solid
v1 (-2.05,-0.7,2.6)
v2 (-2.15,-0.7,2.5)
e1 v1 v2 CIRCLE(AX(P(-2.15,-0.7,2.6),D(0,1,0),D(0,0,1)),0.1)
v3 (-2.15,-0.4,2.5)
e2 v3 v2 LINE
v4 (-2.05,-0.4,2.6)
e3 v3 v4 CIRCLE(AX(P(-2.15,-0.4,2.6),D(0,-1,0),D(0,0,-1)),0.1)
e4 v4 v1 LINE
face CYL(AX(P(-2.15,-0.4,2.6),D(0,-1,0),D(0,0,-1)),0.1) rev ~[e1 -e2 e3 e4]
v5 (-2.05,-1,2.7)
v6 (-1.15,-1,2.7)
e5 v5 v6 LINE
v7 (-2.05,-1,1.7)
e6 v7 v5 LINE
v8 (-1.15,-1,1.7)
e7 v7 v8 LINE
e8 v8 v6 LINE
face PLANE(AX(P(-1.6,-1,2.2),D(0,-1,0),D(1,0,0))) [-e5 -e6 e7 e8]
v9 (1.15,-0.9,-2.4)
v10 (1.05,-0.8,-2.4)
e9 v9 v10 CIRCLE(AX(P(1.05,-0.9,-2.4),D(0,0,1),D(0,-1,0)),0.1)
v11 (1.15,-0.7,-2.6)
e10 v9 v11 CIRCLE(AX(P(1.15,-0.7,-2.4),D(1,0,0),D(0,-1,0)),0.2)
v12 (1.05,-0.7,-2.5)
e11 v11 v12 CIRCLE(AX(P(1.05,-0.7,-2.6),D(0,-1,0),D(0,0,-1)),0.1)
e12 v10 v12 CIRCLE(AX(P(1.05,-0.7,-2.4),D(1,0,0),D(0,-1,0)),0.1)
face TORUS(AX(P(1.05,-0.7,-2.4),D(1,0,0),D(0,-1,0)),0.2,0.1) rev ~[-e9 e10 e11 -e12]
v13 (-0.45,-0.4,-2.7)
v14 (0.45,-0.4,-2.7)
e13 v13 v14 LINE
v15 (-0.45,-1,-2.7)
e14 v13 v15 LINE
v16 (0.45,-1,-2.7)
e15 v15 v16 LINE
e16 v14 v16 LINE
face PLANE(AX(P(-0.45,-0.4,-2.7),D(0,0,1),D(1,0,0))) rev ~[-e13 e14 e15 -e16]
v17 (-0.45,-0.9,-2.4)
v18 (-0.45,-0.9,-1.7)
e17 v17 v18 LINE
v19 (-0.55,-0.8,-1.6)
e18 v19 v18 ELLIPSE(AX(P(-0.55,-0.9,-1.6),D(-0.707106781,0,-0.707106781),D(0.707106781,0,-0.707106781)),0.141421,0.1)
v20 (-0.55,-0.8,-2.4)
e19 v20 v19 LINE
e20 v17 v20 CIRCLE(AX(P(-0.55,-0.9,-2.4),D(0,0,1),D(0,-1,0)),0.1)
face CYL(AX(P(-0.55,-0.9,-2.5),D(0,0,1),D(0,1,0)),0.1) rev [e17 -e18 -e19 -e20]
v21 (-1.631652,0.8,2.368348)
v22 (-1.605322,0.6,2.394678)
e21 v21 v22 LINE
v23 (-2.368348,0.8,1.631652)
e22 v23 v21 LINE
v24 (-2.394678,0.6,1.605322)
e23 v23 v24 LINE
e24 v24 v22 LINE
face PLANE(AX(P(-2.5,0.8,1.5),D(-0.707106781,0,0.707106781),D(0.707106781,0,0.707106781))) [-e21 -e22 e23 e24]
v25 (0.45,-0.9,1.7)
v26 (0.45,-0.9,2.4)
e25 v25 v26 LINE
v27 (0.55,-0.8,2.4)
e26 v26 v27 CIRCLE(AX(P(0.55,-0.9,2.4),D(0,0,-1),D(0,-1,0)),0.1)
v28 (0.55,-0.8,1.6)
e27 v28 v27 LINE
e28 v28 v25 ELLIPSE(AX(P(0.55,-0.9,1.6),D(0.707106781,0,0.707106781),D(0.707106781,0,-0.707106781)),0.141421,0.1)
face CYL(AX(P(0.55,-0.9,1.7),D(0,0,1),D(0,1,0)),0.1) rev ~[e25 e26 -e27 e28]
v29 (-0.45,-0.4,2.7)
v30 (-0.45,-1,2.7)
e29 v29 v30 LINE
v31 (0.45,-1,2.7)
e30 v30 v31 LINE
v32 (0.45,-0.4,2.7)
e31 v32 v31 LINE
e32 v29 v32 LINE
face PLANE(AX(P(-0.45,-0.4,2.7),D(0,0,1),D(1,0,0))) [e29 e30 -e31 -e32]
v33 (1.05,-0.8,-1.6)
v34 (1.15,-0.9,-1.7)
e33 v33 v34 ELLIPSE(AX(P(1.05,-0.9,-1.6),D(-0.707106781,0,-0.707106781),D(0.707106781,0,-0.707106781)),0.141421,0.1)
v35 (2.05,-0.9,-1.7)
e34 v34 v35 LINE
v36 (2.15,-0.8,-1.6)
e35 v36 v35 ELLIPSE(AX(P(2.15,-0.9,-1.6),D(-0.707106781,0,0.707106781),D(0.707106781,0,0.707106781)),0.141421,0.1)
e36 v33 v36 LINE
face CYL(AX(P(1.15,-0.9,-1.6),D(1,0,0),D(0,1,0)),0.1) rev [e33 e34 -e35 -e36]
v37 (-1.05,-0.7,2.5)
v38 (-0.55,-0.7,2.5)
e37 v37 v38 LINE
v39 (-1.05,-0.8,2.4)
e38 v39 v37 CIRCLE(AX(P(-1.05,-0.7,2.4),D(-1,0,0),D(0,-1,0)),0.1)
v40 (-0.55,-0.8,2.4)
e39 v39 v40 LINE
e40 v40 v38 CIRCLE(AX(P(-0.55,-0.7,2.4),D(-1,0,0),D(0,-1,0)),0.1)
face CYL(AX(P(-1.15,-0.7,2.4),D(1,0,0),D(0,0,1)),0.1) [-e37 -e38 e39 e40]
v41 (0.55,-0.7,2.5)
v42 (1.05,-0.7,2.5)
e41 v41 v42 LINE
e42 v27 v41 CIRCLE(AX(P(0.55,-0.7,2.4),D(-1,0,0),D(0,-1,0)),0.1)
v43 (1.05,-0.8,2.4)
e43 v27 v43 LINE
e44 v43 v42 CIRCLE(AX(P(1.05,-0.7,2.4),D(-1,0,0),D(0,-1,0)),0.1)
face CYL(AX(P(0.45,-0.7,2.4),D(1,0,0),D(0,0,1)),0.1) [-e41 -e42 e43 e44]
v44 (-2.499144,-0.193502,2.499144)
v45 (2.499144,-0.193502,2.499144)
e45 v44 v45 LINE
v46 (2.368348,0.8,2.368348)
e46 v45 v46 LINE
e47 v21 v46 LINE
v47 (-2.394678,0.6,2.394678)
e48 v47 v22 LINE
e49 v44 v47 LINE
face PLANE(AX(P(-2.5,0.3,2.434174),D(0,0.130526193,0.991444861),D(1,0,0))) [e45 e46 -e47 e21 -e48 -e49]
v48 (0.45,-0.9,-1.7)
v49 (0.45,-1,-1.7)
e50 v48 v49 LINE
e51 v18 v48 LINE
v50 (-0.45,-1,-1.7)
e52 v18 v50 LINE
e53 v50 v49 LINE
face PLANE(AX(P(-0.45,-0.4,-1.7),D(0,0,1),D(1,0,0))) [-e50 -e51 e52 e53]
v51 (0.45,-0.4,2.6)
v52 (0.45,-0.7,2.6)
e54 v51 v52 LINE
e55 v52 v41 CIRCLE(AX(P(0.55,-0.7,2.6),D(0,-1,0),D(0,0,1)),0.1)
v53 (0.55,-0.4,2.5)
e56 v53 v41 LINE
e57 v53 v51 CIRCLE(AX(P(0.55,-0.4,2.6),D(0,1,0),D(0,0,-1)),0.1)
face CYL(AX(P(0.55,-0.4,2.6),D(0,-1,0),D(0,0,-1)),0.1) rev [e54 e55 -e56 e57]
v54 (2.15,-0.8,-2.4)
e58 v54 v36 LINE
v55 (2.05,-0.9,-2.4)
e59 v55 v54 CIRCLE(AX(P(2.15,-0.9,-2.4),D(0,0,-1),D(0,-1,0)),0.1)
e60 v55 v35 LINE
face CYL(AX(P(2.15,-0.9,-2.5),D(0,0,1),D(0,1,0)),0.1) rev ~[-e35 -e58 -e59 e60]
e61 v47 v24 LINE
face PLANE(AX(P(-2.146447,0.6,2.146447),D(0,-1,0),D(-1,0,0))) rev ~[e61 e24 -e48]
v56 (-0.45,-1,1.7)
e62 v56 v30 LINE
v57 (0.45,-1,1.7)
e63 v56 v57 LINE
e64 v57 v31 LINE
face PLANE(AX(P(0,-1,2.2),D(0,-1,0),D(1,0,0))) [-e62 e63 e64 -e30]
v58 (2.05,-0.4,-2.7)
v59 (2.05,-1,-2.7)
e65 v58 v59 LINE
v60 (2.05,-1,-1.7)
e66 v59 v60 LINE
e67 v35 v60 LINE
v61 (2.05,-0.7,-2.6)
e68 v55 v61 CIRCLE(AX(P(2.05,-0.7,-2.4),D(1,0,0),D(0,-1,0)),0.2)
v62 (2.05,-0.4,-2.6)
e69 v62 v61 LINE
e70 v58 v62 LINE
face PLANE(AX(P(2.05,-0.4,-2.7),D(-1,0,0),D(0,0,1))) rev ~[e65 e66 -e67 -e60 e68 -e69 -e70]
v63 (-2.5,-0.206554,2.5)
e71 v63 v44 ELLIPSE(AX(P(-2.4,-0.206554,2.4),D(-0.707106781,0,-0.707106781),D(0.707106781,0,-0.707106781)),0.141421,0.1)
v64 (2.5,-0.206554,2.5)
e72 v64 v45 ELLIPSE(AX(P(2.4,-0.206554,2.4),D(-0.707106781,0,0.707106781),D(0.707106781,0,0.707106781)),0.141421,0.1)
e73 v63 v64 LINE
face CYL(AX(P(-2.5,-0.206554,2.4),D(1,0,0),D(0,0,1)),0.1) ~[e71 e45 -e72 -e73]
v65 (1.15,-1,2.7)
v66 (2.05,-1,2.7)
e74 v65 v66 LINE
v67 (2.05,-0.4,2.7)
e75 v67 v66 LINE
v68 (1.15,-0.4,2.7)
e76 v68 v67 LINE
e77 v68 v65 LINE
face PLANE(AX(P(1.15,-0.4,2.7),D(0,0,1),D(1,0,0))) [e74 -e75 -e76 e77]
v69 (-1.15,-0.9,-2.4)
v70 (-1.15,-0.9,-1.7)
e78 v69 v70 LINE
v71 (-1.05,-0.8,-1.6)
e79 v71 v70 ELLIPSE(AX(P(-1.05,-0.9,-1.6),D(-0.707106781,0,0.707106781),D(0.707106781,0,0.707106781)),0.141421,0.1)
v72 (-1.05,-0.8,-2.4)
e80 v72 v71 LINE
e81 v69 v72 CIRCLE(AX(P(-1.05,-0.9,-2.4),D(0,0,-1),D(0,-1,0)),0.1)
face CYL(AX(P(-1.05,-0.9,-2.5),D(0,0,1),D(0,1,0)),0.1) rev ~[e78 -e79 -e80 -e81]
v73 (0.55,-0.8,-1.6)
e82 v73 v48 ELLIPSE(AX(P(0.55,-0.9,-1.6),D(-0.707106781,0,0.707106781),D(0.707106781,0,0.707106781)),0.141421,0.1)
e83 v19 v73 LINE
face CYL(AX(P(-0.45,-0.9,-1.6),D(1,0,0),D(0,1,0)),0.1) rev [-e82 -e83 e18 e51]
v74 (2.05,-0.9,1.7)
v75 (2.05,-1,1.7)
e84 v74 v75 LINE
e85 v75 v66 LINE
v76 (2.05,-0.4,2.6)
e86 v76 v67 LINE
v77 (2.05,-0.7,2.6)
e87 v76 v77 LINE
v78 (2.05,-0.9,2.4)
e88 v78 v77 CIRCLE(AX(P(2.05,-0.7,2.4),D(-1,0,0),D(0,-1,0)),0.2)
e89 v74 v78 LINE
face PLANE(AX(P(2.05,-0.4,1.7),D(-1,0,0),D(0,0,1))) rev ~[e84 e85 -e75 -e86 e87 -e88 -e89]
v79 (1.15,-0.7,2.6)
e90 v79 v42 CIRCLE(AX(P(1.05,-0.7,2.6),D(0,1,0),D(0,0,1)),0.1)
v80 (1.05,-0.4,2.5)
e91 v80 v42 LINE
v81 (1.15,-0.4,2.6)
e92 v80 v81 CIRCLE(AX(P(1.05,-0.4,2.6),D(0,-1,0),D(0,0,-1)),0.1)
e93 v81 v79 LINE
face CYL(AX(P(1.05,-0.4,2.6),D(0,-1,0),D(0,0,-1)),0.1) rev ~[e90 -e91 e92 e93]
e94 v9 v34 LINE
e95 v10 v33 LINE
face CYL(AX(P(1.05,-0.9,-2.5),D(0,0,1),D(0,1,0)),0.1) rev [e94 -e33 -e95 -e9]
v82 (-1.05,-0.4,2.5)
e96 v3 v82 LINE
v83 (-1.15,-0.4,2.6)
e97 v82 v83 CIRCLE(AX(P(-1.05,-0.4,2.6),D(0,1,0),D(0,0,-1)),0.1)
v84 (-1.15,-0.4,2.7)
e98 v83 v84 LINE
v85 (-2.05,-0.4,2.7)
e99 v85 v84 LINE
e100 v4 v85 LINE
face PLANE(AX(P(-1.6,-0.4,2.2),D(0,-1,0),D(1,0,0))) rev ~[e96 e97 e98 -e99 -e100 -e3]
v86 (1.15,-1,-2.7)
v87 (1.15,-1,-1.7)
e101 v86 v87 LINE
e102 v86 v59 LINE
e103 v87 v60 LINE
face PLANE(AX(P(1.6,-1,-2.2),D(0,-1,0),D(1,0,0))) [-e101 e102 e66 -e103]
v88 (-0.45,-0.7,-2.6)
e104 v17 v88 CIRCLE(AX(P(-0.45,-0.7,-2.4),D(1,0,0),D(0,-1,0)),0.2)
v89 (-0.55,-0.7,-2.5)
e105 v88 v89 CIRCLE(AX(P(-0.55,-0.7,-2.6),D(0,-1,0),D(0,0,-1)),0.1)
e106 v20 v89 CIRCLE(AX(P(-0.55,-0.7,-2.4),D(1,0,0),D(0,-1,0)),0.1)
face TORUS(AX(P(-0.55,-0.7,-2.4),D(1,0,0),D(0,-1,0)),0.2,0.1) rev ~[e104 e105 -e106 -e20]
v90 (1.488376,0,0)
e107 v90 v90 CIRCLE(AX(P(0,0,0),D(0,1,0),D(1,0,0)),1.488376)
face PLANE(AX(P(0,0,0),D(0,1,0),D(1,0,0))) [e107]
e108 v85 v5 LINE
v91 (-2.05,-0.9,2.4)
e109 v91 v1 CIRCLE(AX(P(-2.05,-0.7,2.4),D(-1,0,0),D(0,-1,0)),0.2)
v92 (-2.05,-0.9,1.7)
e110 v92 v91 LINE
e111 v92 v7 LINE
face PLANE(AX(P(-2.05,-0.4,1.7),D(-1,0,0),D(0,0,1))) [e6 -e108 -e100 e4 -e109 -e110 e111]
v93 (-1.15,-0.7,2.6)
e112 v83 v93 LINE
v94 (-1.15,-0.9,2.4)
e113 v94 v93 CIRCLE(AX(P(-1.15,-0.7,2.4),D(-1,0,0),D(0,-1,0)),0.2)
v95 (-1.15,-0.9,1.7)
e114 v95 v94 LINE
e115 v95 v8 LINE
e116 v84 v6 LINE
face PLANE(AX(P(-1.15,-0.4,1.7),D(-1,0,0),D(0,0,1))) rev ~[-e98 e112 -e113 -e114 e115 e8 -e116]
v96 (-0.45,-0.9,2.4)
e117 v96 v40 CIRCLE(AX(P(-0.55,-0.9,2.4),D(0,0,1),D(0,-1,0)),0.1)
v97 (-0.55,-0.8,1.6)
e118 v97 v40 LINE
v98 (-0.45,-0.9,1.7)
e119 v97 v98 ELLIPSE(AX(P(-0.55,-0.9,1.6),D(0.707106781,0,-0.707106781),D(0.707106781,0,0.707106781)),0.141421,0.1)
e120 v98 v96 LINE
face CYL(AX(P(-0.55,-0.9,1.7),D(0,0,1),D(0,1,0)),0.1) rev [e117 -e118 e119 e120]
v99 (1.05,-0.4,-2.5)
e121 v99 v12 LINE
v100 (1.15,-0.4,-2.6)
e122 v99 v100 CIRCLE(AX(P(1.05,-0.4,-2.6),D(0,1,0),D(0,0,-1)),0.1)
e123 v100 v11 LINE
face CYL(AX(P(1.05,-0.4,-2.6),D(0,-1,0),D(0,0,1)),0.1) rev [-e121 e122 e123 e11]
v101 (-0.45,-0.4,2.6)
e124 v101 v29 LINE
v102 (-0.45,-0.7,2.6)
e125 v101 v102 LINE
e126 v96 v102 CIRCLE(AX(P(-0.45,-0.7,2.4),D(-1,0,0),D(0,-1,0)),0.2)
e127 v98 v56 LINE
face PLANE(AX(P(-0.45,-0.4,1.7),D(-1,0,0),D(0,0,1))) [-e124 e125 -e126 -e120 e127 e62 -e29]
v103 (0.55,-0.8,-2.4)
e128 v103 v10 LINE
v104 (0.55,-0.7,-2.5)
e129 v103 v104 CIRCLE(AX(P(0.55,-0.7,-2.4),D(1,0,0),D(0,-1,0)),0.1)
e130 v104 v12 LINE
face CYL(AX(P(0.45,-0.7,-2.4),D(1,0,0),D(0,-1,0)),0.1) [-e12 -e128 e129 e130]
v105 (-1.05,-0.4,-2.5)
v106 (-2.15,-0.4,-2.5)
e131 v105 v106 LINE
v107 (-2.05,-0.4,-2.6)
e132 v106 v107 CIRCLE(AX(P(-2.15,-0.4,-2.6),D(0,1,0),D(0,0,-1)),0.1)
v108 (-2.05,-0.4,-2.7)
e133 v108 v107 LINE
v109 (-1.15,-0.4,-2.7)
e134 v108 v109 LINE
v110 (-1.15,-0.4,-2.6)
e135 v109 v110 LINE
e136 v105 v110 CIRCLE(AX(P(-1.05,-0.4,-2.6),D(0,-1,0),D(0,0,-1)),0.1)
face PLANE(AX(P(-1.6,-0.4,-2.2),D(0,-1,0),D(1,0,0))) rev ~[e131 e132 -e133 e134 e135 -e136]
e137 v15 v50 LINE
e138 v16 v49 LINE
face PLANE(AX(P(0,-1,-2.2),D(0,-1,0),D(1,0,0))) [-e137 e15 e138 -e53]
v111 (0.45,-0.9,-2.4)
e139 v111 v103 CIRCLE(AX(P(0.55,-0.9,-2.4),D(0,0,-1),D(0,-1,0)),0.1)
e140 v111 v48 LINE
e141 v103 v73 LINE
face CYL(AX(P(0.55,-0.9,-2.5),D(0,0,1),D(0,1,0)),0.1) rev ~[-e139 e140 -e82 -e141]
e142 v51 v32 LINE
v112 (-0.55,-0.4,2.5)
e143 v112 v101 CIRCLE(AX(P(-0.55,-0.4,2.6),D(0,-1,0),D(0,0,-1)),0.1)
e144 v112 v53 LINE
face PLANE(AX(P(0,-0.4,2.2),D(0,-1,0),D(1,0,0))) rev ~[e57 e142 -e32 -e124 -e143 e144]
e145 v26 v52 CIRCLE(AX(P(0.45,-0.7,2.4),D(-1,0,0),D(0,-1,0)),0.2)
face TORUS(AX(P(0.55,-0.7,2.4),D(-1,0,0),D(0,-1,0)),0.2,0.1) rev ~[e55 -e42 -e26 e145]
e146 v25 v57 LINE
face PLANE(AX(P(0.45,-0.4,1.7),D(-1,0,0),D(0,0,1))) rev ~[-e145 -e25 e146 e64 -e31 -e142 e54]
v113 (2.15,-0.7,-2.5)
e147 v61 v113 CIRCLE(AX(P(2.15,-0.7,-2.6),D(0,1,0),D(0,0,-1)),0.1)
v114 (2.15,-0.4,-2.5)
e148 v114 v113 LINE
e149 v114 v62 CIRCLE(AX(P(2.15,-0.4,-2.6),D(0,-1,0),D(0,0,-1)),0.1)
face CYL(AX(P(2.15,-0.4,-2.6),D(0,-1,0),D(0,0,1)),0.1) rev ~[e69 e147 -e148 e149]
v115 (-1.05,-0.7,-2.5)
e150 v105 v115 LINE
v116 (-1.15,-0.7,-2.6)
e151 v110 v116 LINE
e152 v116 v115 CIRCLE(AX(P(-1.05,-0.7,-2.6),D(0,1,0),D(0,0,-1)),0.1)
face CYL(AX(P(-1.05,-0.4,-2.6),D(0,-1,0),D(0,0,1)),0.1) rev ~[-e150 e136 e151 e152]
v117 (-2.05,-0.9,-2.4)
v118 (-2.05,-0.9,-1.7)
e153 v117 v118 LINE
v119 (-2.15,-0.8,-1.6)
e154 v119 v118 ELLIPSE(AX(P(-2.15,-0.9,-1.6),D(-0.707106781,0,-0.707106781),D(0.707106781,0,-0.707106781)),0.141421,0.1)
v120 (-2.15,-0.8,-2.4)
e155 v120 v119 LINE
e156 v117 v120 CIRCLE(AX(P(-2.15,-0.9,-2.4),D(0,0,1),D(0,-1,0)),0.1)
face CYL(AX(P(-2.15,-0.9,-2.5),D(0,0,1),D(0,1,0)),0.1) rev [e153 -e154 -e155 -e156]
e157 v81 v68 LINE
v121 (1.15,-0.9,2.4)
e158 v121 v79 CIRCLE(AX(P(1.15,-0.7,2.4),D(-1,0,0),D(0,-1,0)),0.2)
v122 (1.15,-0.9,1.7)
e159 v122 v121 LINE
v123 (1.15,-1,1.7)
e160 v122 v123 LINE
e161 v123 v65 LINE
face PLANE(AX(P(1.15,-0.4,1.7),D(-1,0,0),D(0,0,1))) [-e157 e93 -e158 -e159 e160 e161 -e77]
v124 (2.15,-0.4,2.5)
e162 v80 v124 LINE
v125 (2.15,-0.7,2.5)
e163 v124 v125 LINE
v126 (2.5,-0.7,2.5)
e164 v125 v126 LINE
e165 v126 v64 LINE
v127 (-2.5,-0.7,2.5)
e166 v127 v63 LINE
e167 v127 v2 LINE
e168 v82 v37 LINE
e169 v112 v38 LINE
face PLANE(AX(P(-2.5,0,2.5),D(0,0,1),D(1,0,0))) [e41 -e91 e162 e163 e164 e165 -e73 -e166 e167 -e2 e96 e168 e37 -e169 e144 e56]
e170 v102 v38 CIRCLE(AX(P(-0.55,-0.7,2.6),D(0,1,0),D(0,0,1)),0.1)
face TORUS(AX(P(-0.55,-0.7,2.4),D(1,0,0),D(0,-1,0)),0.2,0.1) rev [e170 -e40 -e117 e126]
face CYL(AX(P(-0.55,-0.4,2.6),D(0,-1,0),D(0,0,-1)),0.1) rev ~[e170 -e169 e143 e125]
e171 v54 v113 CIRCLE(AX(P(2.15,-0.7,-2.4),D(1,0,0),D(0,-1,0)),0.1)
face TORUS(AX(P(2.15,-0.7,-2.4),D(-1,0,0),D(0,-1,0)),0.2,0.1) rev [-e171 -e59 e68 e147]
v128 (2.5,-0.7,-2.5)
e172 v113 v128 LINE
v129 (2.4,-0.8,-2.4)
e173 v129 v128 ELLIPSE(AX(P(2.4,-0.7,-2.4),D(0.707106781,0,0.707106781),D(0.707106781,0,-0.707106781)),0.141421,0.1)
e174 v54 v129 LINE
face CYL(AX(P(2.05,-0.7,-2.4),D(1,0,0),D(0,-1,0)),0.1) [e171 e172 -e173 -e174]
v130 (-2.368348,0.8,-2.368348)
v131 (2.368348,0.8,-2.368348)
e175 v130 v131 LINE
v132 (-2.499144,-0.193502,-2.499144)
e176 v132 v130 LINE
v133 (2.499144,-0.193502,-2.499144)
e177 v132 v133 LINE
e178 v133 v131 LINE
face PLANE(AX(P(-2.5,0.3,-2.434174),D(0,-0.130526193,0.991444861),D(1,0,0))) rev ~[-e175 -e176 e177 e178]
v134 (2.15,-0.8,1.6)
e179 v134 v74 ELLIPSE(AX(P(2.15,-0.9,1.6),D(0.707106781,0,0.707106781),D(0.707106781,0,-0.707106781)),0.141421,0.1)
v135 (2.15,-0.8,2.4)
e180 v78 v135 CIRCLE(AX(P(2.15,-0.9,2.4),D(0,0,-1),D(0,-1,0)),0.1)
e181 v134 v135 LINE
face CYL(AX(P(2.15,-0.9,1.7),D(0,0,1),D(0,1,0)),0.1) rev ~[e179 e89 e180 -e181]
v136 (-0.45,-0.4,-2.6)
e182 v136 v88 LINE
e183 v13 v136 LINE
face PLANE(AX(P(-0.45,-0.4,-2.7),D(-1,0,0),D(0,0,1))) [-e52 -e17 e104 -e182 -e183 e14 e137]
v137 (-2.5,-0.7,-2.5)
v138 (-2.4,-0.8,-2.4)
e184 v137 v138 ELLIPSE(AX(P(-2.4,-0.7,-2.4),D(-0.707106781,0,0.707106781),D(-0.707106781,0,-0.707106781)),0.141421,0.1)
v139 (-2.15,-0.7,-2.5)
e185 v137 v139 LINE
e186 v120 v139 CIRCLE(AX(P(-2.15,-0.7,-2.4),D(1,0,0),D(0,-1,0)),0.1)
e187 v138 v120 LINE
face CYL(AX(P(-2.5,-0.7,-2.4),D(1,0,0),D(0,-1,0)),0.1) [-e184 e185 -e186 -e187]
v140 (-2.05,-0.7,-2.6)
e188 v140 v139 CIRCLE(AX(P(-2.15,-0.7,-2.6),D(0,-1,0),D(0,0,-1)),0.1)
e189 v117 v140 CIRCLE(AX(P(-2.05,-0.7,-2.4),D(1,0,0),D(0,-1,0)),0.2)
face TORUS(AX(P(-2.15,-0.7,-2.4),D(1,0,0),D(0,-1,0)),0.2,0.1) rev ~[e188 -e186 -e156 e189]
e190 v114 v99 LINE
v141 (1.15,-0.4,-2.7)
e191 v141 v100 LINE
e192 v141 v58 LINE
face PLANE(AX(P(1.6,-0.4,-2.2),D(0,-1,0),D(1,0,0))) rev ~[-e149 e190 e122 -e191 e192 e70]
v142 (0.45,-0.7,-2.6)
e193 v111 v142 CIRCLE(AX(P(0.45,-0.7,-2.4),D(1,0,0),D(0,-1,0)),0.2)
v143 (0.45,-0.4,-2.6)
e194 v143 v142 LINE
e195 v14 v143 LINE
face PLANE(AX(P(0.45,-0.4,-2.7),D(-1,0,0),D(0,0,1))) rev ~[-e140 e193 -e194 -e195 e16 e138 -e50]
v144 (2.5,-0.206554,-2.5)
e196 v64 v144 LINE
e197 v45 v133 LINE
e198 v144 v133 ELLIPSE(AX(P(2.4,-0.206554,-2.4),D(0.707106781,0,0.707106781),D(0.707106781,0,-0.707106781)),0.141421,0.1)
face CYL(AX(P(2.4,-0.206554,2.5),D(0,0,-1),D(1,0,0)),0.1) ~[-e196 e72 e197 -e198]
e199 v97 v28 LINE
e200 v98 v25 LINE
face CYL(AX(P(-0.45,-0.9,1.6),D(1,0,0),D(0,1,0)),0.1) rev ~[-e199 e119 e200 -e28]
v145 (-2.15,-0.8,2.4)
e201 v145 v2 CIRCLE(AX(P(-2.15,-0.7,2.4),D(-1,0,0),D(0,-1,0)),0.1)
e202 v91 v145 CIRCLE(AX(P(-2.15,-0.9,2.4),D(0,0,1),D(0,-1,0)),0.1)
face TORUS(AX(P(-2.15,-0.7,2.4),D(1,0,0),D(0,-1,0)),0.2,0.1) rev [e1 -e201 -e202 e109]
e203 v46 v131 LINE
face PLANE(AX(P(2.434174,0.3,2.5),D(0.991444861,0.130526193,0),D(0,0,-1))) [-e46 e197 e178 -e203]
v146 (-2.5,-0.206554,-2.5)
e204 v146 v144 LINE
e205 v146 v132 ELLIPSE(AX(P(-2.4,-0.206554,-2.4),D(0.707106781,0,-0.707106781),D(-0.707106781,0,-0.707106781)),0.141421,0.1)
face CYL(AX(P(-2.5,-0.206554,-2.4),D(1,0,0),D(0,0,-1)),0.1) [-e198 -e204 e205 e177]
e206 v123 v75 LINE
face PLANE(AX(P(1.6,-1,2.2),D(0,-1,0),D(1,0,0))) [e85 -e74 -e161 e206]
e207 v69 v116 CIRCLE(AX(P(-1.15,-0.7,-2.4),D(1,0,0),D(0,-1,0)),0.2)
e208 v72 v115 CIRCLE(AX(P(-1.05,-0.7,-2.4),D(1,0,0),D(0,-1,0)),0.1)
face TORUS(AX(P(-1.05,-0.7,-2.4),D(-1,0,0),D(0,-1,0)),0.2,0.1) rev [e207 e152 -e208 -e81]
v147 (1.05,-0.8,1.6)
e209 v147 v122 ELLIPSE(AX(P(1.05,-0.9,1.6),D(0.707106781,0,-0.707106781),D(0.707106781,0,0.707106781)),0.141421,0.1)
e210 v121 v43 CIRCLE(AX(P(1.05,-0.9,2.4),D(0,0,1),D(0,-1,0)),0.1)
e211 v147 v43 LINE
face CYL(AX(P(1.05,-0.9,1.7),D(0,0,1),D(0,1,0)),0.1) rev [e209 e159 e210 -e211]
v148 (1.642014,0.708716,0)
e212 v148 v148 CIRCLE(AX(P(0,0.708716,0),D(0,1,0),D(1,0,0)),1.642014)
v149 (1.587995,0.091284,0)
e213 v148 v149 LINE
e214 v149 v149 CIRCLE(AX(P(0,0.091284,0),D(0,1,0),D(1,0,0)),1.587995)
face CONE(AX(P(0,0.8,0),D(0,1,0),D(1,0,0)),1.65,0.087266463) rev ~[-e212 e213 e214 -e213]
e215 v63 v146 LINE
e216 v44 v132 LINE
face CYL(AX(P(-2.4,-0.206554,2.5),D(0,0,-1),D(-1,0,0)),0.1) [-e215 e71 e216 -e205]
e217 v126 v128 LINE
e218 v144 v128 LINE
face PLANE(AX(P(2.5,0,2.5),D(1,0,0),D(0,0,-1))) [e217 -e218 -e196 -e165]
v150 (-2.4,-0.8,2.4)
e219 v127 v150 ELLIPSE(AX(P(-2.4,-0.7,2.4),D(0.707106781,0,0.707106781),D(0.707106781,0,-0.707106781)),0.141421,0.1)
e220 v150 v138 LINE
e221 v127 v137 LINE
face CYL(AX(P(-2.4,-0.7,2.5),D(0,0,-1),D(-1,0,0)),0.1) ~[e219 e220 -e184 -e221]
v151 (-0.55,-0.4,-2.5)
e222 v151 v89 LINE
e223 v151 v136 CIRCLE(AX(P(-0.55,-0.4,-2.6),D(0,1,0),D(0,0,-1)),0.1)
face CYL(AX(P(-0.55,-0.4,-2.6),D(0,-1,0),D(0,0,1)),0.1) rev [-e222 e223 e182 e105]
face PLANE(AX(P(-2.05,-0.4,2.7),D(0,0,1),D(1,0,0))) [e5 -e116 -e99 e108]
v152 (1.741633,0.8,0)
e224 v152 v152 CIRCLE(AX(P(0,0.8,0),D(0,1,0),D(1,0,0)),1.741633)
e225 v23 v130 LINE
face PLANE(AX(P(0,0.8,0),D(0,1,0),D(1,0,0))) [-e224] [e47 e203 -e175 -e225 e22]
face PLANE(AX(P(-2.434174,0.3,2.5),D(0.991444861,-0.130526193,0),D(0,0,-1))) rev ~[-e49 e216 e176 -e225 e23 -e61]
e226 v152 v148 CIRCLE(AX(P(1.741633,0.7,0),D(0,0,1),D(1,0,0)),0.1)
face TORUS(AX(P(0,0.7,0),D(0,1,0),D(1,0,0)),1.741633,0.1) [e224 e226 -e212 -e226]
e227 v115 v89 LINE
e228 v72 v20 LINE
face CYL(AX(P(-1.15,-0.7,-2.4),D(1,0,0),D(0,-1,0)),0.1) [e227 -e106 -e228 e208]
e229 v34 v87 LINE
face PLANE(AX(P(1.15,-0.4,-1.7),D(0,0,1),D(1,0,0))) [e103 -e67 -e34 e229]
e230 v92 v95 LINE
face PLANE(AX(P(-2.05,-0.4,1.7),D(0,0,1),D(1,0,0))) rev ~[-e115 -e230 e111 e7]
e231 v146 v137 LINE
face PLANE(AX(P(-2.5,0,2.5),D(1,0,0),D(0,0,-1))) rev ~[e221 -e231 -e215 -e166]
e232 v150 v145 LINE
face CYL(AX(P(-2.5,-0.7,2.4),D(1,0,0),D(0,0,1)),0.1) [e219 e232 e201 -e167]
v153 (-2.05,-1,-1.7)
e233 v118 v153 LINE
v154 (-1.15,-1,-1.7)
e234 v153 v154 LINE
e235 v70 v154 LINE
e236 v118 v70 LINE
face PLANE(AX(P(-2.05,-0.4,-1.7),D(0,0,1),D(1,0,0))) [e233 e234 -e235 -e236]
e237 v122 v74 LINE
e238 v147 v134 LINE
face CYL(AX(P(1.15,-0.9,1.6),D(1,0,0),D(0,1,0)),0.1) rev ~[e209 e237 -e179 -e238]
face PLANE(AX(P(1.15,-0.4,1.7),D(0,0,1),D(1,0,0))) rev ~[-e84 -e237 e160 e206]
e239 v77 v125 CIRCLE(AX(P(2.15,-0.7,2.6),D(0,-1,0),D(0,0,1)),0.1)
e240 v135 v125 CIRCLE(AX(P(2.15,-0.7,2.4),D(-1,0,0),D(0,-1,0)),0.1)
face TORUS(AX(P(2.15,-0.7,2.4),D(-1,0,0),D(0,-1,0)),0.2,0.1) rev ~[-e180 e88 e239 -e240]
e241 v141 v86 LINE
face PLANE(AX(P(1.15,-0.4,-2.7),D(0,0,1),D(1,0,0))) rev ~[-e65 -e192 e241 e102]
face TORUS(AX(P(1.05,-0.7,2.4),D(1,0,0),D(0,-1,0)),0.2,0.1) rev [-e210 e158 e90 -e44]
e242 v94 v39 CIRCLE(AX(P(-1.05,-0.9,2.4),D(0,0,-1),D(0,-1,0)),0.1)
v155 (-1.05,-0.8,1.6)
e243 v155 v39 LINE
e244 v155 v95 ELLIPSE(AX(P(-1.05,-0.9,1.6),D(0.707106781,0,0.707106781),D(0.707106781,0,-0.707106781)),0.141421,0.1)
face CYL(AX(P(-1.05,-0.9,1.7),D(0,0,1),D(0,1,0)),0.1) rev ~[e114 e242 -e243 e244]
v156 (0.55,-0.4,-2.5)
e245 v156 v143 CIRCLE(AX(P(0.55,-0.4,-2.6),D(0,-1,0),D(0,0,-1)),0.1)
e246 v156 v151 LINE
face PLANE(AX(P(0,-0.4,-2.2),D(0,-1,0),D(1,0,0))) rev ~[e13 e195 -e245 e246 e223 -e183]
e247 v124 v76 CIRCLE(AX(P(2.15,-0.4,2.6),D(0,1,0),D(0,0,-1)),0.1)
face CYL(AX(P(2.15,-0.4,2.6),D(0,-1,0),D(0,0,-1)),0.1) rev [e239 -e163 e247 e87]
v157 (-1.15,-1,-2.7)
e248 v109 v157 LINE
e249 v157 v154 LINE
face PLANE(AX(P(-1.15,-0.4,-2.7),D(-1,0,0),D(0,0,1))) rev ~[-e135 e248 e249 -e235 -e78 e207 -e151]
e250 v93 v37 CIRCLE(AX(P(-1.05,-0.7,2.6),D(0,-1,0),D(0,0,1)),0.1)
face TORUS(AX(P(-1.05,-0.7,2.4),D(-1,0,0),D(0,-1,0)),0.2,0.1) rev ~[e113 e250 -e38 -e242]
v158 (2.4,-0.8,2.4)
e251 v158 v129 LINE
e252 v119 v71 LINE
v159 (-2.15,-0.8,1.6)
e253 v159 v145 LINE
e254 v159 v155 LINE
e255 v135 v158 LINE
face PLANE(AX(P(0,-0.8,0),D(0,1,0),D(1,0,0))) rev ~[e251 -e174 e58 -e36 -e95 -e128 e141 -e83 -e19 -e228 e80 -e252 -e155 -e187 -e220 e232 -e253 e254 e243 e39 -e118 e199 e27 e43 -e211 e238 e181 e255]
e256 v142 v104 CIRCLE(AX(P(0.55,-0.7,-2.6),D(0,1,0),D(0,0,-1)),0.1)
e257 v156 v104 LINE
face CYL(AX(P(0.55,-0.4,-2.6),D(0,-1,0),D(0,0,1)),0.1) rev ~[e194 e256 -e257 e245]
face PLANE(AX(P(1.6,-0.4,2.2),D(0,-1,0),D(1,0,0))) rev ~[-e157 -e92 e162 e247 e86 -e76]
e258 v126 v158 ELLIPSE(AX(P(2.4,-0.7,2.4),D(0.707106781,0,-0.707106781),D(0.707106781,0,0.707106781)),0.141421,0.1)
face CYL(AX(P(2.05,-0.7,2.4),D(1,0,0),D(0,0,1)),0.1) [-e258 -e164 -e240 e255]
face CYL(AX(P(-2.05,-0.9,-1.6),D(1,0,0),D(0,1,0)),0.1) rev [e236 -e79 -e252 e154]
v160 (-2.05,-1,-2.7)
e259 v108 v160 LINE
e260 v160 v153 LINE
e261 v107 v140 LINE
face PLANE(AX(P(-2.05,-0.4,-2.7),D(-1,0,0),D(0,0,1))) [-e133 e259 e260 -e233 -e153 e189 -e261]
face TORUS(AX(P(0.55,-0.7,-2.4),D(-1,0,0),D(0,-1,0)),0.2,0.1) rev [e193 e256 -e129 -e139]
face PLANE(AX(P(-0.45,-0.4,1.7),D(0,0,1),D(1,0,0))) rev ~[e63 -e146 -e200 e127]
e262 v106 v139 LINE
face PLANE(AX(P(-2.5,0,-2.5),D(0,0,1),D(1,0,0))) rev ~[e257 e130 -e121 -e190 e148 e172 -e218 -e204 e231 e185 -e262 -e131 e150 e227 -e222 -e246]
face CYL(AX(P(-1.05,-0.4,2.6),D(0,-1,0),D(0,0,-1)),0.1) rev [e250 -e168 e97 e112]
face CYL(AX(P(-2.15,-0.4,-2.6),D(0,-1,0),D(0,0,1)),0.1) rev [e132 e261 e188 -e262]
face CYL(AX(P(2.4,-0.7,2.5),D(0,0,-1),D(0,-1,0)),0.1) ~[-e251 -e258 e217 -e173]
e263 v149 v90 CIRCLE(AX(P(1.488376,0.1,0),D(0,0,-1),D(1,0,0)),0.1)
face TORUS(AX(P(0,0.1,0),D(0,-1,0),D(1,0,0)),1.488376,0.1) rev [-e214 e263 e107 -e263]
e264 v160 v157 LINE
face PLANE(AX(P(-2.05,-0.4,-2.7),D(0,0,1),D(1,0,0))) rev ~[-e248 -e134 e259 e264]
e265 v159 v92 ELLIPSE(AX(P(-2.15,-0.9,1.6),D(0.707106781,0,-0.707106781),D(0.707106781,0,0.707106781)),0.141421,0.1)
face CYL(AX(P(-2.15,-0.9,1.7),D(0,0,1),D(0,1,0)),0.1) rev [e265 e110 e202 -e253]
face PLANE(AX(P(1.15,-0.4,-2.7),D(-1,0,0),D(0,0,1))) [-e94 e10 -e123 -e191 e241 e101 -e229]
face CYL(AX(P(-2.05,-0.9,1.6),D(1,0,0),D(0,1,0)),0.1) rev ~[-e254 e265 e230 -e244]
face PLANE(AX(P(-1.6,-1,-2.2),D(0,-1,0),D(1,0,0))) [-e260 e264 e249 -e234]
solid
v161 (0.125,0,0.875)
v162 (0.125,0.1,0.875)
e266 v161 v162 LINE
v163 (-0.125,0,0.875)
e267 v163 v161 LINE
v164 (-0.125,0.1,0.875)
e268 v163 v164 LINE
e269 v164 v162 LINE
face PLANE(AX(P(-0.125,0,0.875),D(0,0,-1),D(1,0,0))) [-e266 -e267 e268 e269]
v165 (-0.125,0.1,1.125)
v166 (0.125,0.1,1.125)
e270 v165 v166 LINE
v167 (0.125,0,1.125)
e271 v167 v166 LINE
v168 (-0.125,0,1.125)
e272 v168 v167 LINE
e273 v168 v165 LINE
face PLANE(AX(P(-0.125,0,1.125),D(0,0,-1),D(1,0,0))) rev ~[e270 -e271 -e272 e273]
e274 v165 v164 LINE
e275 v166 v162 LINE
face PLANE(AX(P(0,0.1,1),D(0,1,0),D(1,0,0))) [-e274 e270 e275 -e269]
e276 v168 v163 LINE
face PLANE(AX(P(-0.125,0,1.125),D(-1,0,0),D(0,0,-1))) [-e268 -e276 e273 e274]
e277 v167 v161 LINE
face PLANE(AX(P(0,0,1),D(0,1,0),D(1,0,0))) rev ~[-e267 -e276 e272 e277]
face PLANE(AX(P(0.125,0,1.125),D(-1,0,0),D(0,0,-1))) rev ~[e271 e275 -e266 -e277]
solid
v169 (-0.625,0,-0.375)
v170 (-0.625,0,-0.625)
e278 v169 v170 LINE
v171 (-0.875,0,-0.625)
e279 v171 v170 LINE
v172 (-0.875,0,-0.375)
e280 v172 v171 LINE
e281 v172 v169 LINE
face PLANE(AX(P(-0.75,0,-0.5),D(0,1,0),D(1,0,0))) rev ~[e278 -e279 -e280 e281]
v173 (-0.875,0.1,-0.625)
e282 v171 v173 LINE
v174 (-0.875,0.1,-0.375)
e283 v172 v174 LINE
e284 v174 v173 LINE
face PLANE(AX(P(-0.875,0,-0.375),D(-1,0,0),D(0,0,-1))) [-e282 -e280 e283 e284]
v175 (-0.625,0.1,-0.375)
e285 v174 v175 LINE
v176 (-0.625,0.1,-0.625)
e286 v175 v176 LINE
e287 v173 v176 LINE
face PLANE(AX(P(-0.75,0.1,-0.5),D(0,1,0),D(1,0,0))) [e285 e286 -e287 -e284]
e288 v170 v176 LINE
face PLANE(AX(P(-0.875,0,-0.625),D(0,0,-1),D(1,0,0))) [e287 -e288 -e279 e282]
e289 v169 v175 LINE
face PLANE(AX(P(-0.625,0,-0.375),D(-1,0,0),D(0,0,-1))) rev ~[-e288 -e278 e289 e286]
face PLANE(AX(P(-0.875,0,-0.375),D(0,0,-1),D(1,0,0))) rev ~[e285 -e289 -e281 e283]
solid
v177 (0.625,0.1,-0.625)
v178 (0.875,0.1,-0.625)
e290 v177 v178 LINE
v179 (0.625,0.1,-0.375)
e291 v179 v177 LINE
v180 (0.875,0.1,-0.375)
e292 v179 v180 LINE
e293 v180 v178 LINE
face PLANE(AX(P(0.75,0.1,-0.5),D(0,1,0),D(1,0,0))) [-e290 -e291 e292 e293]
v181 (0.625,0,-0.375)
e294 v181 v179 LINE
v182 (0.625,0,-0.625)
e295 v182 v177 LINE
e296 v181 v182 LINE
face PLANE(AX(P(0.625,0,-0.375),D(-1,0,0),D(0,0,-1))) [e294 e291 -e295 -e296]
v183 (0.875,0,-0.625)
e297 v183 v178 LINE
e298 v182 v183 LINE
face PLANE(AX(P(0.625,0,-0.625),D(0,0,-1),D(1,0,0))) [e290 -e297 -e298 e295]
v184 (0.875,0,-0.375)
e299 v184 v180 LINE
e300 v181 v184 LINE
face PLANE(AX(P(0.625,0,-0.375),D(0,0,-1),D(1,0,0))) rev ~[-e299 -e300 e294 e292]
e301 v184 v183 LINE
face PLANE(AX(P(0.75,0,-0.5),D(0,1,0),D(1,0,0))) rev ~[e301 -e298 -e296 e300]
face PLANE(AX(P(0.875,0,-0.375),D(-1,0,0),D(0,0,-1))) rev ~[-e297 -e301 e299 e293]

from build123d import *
from OCP.BRepFilletAPI import BRepFilletAPI_MakeChamfer

# Parameters (mm, degrees)
SKETCH1_W                = 5
SKETCH1_H                = 5
BOSS_EXTRUDE1_DEPTH      = 0.8
BOSS_EXTRUDE2_DEPTH      = 0.2
BOSS_EXTRUDE2_DEPTH_BACK = 0.4
SKETCH2_W                = 0.9
SKETCH2_H                = 1
CHAMFER1_SIZE            = 1
CHAMFER1_SIZE2           = 0.131652498
CUT_EXTRUDE1_DEPTH       = 0.2
SKETCH4_R                = 1.65
CUT_EXTRUDE2_DEPTH       = 0.8
CUT_EXTRUDE2_DRAFT       = -5
FILLET1_R                = 0.1
SKETCH5_W                = 0.25
SKETCH5_H                = 0.25
BOSS_EXTRUDE4_DEPTH      = 0.1
BOSS_EXTRUDE4_2_DEPTH    = 0.1
BOSS_EXTRUDE4_3_DEPTH    = 0.1


with BuildPart() as part:
    # Sketch1 → Boss-Extrude1 (new, symmetric)
    with BuildSketch(Plane(origin=(0, 0, 0), x_dir=(1, 0, 0), z_dir=(0, 1, 0))):
        Rectangle(SKETCH1_W, SKETCH1_H)
    extrude(amount=BOSS_EXTRUDE1_DEPTH, both=True)

    # Sketch2 → Boss-Extrude2 (add, two sides: drawn at the far end of the back side and taken through both)
    with BuildSketch(Plane.XZ.offset(0.8).offset(-BOSS_EXTRUDE2_DEPTH_BACK)):
        with Locations((-1.6, 2.2)):
            Rectangle(SKETCH2_W, SKETCH2_H)
        with Locations((1.6, 2.2)):
            Rectangle(SKETCH2_W, SKETCH2_H)
        with Locations((0, 2.2)):
            Rectangle(SKETCH2_W, SKETCH2_H)
        with Locations((1.6, -2.2)):
            Rectangle(SKETCH2_W, SKETCH2_H)
        with Locations((0, -2.2)):
            Rectangle(SKETCH2_W, SKETCH2_H)
        with Locations((-1.6, -2.2)):
            Rectangle(SKETCH2_W, SKETCH2_H)
    extrude(amount=BOSS_EXTRUDE2_DEPTH + BOSS_EXTRUDE2_DEPTH_BACK)

    # Chamfer1: one chamfer whose edges measure the first distance from different faces: ONE call of the kernel's chamfer builder (chamfer() names one face for all edges)
    chamfer1_edges_1 = [part.edges().sort_by_distance(p)[0] for p in [
        (-2.5, 0.8, 0),
    ]]
    chamfer1_side_1 = [part.faces().sort_by_distance(p)[0] for p in [
        (-2.5, 0, 0),
    ]]
    chamfer1_edges_2 = [part.edges().sort_by_distance(p)[0] for p in [
        (0, 0.8, 2.5),
    ]]
    chamfer1_side_2 = [part.faces().sort_by_distance(p)[0] for p in [
        (0, 0.093641618, 2.5),
    ]]
    chamfer1_edges_3 = [part.edges().sort_by_distance(p)[0] for p in [
        (2.5, 0.8, 0),
    ]]
    chamfer1_side_3 = [part.faces().sort_by_distance(p)[0] for p in [
        (2.5, 0, 0),
    ]]
    chamfer1_edges_4 = [part.edges().sort_by_distance(p)[0] for p in [
        (0, 0.8, -2.5),
    ]]
    chamfer1_side_4 = [part.faces().sort_by_distance(p)[0] for p in [
        (0, 0.093641618, -2.5),
    ]]
    chamfer1 = BRepFilletAPI_MakeChamfer(part.part.solid().wrapped)
    for e in chamfer1_edges_1:
        chamfer1.Add(CHAMFER1_SIZE, CHAMFER1_SIZE2, e.wrapped, chamfer1_side_1[0].wrapped)  # the first distance lies on this face
    for e in chamfer1_edges_2:
        chamfer1.Add(CHAMFER1_SIZE, CHAMFER1_SIZE2, e.wrapped, chamfer1_side_2[0].wrapped)  # the first distance lies on this face
    for e in chamfer1_edges_3:
        chamfer1.Add(CHAMFER1_SIZE, CHAMFER1_SIZE2, e.wrapped, chamfer1_side_3[0].wrapped)  # the first distance lies on this face
    for e in chamfer1_edges_4:
        chamfer1.Add(CHAMFER1_SIZE, CHAMFER1_SIZE2, e.wrapped, chamfer1_side_4[0].wrapped)  # the first distance lies on this face
    add(Compound.cast(chamfer1.Shape()), mode=Mode.REPLACE)

    # Sketch3 → Cut-Extrude1 (cut)
    with BuildSketch(Plane(origin=(0, 0.8, 0), x_dir=(1, 0, 0), z_dir=(0, 1, 0))):
        Polygon((-2.5, -1.5), (-1.5, -2.5), (-2.5, -2.5), align=None)
    extrude(amount=-CUT_EXTRUDE1_DEPTH, mode=Mode.SUBTRACT)


with BuildPart() as cut_extrude2_tool:
    # Sketch4 → Cut-Extrude2 (with draft: the straight prism first)
    with BuildSketch(Plane(origin=(0, 0.8, 0), x_dir=(1, 0, 0), z_dir=(0, 1, 0))):
        Circle(SKETCH4_R)
    extrude(amount=-CUT_EXTRUDE2_DEPTH)
    # Cut-Extrude2: the draft: its side faces are tilted about the plane it starts from
    cut_extrude2_sides = [cut_extrude2_tool.faces().sort_by_distance(p)[0] for p in [
        (-1.65, 0.4, 0),
    ]]
    draft(cut_extrude2_sides, Plane(origin=(0, 0.8, 0), x_dir=(1, 0, 0), z_dir=(0, 1, 0)), CUT_EXTRUDE2_DRAFT)


with BuildPart() as part_1:
    add(part.part)

    # Cut-Extrude2: cut by cut_extrude2_tool
    add(cut_extrude2_tool.part, mode=Mode.SUBTRACT)

    # Fillet1
    fillet1_edges = [part_1.edges().sort_by_distance(p)[0] for p in [
        (-2.05, -0.6, -2.5),
        (-1.15, -0.6, -2.5),
        (0, -0.2, 2.5),
        (-2.5, -0.2, 0),
        (0, -0.2, -2.5),
        (2.5, -0.2, 0),
        (-0.8, -0.8, 2.5),
        (-2.05, -0.8, 2.1),
        (-1.6, -0.8, 1.7),
        (-1.580009069, 0, 0),
        (-1.65, 0.8, 0),
        (-1.15, -0.8, 2.1),
        (-1.15, -0.6, 2.5),
        (-2.05, -0.6, 2.5),
        (0.8, -0.8, 2.5),
        (-0.45, -0.8, 2.1),
        (0, -0.8, 1.7),
        (0.45, -0.8, 2.1),
        (0.45, -0.6, 2.5),
        (-0.45, -0.6, 2.5),
        (2.275, -0.8, 2.5),
        (1.15, -0.8, 2.1),
        (1.6, -0.8, 1.7),
        (2.05, -0.8, 2.1),
        (-2.275, -0.8, 2.5),
        (2.05, -0.6, 2.5),
        (1.15, -0.6, 2.5),
        (-2.5, -0.8, 0),
        (2.275, -0.8, -2.5),
        (2.5, -0.8, 0),
        (0.8, -0.8, -2.5),
        (2.05, -0.8, -2.1),
        (1.6, -0.8, -1.7),
        (1.15, -0.8, -2.1),
        (1.15, -0.6, -2.5),
        (2.05, -0.6, -2.5),
        (-0.8, -0.8, -2.5),
        (0.45, -0.8, -2.1),
        (0, -0.8, -1.7),
        (-0.45, -0.8, -2.1),
        (-0.45, -0.6, -2.5),
        (0.45, -0.6, -2.5),
        (-2.275, -0.8, -2.5),
        (-1.15, -0.8, -2.1),
        (-1.6, -0.8, -1.7),
        (-2.05, -0.8, -2.1),
    ]]
    fillet(fillet1_edges, radius=FILLET1_R)


with BuildPart() as body_2:
    # Sketch5 → Boss-Extrude4 (new body)
    with BuildSketch(Plane(origin=(0, 0, 0), x_dir=(1, 0, 0), z_dir=(0, 1, 0))):
        with Locations((-0.75, 0.5)):
            Rectangle(SKETCH5_W, SKETCH5_H)
    extrude(amount=BOSS_EXTRUDE4_DEPTH)


with BuildPart() as body_3:
    # Sketch5 → Boss-Extrude4 2 (new body)
    with BuildSketch(Plane(origin=(0, 0, 0), x_dir=(1, 0, 0), z_dir=(0, 1, 0))):
        with Locations((0, -1)):
            Rectangle(SKETCH5_W, SKETCH5_H)
    extrude(amount=BOSS_EXTRUDE4_2_DEPTH)


with BuildPart() as body_4:
    # Sketch5 → Boss-Extrude4 3 (new body)
    with BuildSketch(Plane(origin=(0, 0, 0), x_dir=(1, 0, 0), z_dir=(0, 1, 0))):
        with Locations((0.75, 0.5)):
            Rectangle(SKETCH5_W, SKETCH5_H)
    extrude(amount=BOSS_EXTRUDE4_3_DEPTH)


solid = Compound([part_1.part, body_2.part, body_3.part, body_4.part])
